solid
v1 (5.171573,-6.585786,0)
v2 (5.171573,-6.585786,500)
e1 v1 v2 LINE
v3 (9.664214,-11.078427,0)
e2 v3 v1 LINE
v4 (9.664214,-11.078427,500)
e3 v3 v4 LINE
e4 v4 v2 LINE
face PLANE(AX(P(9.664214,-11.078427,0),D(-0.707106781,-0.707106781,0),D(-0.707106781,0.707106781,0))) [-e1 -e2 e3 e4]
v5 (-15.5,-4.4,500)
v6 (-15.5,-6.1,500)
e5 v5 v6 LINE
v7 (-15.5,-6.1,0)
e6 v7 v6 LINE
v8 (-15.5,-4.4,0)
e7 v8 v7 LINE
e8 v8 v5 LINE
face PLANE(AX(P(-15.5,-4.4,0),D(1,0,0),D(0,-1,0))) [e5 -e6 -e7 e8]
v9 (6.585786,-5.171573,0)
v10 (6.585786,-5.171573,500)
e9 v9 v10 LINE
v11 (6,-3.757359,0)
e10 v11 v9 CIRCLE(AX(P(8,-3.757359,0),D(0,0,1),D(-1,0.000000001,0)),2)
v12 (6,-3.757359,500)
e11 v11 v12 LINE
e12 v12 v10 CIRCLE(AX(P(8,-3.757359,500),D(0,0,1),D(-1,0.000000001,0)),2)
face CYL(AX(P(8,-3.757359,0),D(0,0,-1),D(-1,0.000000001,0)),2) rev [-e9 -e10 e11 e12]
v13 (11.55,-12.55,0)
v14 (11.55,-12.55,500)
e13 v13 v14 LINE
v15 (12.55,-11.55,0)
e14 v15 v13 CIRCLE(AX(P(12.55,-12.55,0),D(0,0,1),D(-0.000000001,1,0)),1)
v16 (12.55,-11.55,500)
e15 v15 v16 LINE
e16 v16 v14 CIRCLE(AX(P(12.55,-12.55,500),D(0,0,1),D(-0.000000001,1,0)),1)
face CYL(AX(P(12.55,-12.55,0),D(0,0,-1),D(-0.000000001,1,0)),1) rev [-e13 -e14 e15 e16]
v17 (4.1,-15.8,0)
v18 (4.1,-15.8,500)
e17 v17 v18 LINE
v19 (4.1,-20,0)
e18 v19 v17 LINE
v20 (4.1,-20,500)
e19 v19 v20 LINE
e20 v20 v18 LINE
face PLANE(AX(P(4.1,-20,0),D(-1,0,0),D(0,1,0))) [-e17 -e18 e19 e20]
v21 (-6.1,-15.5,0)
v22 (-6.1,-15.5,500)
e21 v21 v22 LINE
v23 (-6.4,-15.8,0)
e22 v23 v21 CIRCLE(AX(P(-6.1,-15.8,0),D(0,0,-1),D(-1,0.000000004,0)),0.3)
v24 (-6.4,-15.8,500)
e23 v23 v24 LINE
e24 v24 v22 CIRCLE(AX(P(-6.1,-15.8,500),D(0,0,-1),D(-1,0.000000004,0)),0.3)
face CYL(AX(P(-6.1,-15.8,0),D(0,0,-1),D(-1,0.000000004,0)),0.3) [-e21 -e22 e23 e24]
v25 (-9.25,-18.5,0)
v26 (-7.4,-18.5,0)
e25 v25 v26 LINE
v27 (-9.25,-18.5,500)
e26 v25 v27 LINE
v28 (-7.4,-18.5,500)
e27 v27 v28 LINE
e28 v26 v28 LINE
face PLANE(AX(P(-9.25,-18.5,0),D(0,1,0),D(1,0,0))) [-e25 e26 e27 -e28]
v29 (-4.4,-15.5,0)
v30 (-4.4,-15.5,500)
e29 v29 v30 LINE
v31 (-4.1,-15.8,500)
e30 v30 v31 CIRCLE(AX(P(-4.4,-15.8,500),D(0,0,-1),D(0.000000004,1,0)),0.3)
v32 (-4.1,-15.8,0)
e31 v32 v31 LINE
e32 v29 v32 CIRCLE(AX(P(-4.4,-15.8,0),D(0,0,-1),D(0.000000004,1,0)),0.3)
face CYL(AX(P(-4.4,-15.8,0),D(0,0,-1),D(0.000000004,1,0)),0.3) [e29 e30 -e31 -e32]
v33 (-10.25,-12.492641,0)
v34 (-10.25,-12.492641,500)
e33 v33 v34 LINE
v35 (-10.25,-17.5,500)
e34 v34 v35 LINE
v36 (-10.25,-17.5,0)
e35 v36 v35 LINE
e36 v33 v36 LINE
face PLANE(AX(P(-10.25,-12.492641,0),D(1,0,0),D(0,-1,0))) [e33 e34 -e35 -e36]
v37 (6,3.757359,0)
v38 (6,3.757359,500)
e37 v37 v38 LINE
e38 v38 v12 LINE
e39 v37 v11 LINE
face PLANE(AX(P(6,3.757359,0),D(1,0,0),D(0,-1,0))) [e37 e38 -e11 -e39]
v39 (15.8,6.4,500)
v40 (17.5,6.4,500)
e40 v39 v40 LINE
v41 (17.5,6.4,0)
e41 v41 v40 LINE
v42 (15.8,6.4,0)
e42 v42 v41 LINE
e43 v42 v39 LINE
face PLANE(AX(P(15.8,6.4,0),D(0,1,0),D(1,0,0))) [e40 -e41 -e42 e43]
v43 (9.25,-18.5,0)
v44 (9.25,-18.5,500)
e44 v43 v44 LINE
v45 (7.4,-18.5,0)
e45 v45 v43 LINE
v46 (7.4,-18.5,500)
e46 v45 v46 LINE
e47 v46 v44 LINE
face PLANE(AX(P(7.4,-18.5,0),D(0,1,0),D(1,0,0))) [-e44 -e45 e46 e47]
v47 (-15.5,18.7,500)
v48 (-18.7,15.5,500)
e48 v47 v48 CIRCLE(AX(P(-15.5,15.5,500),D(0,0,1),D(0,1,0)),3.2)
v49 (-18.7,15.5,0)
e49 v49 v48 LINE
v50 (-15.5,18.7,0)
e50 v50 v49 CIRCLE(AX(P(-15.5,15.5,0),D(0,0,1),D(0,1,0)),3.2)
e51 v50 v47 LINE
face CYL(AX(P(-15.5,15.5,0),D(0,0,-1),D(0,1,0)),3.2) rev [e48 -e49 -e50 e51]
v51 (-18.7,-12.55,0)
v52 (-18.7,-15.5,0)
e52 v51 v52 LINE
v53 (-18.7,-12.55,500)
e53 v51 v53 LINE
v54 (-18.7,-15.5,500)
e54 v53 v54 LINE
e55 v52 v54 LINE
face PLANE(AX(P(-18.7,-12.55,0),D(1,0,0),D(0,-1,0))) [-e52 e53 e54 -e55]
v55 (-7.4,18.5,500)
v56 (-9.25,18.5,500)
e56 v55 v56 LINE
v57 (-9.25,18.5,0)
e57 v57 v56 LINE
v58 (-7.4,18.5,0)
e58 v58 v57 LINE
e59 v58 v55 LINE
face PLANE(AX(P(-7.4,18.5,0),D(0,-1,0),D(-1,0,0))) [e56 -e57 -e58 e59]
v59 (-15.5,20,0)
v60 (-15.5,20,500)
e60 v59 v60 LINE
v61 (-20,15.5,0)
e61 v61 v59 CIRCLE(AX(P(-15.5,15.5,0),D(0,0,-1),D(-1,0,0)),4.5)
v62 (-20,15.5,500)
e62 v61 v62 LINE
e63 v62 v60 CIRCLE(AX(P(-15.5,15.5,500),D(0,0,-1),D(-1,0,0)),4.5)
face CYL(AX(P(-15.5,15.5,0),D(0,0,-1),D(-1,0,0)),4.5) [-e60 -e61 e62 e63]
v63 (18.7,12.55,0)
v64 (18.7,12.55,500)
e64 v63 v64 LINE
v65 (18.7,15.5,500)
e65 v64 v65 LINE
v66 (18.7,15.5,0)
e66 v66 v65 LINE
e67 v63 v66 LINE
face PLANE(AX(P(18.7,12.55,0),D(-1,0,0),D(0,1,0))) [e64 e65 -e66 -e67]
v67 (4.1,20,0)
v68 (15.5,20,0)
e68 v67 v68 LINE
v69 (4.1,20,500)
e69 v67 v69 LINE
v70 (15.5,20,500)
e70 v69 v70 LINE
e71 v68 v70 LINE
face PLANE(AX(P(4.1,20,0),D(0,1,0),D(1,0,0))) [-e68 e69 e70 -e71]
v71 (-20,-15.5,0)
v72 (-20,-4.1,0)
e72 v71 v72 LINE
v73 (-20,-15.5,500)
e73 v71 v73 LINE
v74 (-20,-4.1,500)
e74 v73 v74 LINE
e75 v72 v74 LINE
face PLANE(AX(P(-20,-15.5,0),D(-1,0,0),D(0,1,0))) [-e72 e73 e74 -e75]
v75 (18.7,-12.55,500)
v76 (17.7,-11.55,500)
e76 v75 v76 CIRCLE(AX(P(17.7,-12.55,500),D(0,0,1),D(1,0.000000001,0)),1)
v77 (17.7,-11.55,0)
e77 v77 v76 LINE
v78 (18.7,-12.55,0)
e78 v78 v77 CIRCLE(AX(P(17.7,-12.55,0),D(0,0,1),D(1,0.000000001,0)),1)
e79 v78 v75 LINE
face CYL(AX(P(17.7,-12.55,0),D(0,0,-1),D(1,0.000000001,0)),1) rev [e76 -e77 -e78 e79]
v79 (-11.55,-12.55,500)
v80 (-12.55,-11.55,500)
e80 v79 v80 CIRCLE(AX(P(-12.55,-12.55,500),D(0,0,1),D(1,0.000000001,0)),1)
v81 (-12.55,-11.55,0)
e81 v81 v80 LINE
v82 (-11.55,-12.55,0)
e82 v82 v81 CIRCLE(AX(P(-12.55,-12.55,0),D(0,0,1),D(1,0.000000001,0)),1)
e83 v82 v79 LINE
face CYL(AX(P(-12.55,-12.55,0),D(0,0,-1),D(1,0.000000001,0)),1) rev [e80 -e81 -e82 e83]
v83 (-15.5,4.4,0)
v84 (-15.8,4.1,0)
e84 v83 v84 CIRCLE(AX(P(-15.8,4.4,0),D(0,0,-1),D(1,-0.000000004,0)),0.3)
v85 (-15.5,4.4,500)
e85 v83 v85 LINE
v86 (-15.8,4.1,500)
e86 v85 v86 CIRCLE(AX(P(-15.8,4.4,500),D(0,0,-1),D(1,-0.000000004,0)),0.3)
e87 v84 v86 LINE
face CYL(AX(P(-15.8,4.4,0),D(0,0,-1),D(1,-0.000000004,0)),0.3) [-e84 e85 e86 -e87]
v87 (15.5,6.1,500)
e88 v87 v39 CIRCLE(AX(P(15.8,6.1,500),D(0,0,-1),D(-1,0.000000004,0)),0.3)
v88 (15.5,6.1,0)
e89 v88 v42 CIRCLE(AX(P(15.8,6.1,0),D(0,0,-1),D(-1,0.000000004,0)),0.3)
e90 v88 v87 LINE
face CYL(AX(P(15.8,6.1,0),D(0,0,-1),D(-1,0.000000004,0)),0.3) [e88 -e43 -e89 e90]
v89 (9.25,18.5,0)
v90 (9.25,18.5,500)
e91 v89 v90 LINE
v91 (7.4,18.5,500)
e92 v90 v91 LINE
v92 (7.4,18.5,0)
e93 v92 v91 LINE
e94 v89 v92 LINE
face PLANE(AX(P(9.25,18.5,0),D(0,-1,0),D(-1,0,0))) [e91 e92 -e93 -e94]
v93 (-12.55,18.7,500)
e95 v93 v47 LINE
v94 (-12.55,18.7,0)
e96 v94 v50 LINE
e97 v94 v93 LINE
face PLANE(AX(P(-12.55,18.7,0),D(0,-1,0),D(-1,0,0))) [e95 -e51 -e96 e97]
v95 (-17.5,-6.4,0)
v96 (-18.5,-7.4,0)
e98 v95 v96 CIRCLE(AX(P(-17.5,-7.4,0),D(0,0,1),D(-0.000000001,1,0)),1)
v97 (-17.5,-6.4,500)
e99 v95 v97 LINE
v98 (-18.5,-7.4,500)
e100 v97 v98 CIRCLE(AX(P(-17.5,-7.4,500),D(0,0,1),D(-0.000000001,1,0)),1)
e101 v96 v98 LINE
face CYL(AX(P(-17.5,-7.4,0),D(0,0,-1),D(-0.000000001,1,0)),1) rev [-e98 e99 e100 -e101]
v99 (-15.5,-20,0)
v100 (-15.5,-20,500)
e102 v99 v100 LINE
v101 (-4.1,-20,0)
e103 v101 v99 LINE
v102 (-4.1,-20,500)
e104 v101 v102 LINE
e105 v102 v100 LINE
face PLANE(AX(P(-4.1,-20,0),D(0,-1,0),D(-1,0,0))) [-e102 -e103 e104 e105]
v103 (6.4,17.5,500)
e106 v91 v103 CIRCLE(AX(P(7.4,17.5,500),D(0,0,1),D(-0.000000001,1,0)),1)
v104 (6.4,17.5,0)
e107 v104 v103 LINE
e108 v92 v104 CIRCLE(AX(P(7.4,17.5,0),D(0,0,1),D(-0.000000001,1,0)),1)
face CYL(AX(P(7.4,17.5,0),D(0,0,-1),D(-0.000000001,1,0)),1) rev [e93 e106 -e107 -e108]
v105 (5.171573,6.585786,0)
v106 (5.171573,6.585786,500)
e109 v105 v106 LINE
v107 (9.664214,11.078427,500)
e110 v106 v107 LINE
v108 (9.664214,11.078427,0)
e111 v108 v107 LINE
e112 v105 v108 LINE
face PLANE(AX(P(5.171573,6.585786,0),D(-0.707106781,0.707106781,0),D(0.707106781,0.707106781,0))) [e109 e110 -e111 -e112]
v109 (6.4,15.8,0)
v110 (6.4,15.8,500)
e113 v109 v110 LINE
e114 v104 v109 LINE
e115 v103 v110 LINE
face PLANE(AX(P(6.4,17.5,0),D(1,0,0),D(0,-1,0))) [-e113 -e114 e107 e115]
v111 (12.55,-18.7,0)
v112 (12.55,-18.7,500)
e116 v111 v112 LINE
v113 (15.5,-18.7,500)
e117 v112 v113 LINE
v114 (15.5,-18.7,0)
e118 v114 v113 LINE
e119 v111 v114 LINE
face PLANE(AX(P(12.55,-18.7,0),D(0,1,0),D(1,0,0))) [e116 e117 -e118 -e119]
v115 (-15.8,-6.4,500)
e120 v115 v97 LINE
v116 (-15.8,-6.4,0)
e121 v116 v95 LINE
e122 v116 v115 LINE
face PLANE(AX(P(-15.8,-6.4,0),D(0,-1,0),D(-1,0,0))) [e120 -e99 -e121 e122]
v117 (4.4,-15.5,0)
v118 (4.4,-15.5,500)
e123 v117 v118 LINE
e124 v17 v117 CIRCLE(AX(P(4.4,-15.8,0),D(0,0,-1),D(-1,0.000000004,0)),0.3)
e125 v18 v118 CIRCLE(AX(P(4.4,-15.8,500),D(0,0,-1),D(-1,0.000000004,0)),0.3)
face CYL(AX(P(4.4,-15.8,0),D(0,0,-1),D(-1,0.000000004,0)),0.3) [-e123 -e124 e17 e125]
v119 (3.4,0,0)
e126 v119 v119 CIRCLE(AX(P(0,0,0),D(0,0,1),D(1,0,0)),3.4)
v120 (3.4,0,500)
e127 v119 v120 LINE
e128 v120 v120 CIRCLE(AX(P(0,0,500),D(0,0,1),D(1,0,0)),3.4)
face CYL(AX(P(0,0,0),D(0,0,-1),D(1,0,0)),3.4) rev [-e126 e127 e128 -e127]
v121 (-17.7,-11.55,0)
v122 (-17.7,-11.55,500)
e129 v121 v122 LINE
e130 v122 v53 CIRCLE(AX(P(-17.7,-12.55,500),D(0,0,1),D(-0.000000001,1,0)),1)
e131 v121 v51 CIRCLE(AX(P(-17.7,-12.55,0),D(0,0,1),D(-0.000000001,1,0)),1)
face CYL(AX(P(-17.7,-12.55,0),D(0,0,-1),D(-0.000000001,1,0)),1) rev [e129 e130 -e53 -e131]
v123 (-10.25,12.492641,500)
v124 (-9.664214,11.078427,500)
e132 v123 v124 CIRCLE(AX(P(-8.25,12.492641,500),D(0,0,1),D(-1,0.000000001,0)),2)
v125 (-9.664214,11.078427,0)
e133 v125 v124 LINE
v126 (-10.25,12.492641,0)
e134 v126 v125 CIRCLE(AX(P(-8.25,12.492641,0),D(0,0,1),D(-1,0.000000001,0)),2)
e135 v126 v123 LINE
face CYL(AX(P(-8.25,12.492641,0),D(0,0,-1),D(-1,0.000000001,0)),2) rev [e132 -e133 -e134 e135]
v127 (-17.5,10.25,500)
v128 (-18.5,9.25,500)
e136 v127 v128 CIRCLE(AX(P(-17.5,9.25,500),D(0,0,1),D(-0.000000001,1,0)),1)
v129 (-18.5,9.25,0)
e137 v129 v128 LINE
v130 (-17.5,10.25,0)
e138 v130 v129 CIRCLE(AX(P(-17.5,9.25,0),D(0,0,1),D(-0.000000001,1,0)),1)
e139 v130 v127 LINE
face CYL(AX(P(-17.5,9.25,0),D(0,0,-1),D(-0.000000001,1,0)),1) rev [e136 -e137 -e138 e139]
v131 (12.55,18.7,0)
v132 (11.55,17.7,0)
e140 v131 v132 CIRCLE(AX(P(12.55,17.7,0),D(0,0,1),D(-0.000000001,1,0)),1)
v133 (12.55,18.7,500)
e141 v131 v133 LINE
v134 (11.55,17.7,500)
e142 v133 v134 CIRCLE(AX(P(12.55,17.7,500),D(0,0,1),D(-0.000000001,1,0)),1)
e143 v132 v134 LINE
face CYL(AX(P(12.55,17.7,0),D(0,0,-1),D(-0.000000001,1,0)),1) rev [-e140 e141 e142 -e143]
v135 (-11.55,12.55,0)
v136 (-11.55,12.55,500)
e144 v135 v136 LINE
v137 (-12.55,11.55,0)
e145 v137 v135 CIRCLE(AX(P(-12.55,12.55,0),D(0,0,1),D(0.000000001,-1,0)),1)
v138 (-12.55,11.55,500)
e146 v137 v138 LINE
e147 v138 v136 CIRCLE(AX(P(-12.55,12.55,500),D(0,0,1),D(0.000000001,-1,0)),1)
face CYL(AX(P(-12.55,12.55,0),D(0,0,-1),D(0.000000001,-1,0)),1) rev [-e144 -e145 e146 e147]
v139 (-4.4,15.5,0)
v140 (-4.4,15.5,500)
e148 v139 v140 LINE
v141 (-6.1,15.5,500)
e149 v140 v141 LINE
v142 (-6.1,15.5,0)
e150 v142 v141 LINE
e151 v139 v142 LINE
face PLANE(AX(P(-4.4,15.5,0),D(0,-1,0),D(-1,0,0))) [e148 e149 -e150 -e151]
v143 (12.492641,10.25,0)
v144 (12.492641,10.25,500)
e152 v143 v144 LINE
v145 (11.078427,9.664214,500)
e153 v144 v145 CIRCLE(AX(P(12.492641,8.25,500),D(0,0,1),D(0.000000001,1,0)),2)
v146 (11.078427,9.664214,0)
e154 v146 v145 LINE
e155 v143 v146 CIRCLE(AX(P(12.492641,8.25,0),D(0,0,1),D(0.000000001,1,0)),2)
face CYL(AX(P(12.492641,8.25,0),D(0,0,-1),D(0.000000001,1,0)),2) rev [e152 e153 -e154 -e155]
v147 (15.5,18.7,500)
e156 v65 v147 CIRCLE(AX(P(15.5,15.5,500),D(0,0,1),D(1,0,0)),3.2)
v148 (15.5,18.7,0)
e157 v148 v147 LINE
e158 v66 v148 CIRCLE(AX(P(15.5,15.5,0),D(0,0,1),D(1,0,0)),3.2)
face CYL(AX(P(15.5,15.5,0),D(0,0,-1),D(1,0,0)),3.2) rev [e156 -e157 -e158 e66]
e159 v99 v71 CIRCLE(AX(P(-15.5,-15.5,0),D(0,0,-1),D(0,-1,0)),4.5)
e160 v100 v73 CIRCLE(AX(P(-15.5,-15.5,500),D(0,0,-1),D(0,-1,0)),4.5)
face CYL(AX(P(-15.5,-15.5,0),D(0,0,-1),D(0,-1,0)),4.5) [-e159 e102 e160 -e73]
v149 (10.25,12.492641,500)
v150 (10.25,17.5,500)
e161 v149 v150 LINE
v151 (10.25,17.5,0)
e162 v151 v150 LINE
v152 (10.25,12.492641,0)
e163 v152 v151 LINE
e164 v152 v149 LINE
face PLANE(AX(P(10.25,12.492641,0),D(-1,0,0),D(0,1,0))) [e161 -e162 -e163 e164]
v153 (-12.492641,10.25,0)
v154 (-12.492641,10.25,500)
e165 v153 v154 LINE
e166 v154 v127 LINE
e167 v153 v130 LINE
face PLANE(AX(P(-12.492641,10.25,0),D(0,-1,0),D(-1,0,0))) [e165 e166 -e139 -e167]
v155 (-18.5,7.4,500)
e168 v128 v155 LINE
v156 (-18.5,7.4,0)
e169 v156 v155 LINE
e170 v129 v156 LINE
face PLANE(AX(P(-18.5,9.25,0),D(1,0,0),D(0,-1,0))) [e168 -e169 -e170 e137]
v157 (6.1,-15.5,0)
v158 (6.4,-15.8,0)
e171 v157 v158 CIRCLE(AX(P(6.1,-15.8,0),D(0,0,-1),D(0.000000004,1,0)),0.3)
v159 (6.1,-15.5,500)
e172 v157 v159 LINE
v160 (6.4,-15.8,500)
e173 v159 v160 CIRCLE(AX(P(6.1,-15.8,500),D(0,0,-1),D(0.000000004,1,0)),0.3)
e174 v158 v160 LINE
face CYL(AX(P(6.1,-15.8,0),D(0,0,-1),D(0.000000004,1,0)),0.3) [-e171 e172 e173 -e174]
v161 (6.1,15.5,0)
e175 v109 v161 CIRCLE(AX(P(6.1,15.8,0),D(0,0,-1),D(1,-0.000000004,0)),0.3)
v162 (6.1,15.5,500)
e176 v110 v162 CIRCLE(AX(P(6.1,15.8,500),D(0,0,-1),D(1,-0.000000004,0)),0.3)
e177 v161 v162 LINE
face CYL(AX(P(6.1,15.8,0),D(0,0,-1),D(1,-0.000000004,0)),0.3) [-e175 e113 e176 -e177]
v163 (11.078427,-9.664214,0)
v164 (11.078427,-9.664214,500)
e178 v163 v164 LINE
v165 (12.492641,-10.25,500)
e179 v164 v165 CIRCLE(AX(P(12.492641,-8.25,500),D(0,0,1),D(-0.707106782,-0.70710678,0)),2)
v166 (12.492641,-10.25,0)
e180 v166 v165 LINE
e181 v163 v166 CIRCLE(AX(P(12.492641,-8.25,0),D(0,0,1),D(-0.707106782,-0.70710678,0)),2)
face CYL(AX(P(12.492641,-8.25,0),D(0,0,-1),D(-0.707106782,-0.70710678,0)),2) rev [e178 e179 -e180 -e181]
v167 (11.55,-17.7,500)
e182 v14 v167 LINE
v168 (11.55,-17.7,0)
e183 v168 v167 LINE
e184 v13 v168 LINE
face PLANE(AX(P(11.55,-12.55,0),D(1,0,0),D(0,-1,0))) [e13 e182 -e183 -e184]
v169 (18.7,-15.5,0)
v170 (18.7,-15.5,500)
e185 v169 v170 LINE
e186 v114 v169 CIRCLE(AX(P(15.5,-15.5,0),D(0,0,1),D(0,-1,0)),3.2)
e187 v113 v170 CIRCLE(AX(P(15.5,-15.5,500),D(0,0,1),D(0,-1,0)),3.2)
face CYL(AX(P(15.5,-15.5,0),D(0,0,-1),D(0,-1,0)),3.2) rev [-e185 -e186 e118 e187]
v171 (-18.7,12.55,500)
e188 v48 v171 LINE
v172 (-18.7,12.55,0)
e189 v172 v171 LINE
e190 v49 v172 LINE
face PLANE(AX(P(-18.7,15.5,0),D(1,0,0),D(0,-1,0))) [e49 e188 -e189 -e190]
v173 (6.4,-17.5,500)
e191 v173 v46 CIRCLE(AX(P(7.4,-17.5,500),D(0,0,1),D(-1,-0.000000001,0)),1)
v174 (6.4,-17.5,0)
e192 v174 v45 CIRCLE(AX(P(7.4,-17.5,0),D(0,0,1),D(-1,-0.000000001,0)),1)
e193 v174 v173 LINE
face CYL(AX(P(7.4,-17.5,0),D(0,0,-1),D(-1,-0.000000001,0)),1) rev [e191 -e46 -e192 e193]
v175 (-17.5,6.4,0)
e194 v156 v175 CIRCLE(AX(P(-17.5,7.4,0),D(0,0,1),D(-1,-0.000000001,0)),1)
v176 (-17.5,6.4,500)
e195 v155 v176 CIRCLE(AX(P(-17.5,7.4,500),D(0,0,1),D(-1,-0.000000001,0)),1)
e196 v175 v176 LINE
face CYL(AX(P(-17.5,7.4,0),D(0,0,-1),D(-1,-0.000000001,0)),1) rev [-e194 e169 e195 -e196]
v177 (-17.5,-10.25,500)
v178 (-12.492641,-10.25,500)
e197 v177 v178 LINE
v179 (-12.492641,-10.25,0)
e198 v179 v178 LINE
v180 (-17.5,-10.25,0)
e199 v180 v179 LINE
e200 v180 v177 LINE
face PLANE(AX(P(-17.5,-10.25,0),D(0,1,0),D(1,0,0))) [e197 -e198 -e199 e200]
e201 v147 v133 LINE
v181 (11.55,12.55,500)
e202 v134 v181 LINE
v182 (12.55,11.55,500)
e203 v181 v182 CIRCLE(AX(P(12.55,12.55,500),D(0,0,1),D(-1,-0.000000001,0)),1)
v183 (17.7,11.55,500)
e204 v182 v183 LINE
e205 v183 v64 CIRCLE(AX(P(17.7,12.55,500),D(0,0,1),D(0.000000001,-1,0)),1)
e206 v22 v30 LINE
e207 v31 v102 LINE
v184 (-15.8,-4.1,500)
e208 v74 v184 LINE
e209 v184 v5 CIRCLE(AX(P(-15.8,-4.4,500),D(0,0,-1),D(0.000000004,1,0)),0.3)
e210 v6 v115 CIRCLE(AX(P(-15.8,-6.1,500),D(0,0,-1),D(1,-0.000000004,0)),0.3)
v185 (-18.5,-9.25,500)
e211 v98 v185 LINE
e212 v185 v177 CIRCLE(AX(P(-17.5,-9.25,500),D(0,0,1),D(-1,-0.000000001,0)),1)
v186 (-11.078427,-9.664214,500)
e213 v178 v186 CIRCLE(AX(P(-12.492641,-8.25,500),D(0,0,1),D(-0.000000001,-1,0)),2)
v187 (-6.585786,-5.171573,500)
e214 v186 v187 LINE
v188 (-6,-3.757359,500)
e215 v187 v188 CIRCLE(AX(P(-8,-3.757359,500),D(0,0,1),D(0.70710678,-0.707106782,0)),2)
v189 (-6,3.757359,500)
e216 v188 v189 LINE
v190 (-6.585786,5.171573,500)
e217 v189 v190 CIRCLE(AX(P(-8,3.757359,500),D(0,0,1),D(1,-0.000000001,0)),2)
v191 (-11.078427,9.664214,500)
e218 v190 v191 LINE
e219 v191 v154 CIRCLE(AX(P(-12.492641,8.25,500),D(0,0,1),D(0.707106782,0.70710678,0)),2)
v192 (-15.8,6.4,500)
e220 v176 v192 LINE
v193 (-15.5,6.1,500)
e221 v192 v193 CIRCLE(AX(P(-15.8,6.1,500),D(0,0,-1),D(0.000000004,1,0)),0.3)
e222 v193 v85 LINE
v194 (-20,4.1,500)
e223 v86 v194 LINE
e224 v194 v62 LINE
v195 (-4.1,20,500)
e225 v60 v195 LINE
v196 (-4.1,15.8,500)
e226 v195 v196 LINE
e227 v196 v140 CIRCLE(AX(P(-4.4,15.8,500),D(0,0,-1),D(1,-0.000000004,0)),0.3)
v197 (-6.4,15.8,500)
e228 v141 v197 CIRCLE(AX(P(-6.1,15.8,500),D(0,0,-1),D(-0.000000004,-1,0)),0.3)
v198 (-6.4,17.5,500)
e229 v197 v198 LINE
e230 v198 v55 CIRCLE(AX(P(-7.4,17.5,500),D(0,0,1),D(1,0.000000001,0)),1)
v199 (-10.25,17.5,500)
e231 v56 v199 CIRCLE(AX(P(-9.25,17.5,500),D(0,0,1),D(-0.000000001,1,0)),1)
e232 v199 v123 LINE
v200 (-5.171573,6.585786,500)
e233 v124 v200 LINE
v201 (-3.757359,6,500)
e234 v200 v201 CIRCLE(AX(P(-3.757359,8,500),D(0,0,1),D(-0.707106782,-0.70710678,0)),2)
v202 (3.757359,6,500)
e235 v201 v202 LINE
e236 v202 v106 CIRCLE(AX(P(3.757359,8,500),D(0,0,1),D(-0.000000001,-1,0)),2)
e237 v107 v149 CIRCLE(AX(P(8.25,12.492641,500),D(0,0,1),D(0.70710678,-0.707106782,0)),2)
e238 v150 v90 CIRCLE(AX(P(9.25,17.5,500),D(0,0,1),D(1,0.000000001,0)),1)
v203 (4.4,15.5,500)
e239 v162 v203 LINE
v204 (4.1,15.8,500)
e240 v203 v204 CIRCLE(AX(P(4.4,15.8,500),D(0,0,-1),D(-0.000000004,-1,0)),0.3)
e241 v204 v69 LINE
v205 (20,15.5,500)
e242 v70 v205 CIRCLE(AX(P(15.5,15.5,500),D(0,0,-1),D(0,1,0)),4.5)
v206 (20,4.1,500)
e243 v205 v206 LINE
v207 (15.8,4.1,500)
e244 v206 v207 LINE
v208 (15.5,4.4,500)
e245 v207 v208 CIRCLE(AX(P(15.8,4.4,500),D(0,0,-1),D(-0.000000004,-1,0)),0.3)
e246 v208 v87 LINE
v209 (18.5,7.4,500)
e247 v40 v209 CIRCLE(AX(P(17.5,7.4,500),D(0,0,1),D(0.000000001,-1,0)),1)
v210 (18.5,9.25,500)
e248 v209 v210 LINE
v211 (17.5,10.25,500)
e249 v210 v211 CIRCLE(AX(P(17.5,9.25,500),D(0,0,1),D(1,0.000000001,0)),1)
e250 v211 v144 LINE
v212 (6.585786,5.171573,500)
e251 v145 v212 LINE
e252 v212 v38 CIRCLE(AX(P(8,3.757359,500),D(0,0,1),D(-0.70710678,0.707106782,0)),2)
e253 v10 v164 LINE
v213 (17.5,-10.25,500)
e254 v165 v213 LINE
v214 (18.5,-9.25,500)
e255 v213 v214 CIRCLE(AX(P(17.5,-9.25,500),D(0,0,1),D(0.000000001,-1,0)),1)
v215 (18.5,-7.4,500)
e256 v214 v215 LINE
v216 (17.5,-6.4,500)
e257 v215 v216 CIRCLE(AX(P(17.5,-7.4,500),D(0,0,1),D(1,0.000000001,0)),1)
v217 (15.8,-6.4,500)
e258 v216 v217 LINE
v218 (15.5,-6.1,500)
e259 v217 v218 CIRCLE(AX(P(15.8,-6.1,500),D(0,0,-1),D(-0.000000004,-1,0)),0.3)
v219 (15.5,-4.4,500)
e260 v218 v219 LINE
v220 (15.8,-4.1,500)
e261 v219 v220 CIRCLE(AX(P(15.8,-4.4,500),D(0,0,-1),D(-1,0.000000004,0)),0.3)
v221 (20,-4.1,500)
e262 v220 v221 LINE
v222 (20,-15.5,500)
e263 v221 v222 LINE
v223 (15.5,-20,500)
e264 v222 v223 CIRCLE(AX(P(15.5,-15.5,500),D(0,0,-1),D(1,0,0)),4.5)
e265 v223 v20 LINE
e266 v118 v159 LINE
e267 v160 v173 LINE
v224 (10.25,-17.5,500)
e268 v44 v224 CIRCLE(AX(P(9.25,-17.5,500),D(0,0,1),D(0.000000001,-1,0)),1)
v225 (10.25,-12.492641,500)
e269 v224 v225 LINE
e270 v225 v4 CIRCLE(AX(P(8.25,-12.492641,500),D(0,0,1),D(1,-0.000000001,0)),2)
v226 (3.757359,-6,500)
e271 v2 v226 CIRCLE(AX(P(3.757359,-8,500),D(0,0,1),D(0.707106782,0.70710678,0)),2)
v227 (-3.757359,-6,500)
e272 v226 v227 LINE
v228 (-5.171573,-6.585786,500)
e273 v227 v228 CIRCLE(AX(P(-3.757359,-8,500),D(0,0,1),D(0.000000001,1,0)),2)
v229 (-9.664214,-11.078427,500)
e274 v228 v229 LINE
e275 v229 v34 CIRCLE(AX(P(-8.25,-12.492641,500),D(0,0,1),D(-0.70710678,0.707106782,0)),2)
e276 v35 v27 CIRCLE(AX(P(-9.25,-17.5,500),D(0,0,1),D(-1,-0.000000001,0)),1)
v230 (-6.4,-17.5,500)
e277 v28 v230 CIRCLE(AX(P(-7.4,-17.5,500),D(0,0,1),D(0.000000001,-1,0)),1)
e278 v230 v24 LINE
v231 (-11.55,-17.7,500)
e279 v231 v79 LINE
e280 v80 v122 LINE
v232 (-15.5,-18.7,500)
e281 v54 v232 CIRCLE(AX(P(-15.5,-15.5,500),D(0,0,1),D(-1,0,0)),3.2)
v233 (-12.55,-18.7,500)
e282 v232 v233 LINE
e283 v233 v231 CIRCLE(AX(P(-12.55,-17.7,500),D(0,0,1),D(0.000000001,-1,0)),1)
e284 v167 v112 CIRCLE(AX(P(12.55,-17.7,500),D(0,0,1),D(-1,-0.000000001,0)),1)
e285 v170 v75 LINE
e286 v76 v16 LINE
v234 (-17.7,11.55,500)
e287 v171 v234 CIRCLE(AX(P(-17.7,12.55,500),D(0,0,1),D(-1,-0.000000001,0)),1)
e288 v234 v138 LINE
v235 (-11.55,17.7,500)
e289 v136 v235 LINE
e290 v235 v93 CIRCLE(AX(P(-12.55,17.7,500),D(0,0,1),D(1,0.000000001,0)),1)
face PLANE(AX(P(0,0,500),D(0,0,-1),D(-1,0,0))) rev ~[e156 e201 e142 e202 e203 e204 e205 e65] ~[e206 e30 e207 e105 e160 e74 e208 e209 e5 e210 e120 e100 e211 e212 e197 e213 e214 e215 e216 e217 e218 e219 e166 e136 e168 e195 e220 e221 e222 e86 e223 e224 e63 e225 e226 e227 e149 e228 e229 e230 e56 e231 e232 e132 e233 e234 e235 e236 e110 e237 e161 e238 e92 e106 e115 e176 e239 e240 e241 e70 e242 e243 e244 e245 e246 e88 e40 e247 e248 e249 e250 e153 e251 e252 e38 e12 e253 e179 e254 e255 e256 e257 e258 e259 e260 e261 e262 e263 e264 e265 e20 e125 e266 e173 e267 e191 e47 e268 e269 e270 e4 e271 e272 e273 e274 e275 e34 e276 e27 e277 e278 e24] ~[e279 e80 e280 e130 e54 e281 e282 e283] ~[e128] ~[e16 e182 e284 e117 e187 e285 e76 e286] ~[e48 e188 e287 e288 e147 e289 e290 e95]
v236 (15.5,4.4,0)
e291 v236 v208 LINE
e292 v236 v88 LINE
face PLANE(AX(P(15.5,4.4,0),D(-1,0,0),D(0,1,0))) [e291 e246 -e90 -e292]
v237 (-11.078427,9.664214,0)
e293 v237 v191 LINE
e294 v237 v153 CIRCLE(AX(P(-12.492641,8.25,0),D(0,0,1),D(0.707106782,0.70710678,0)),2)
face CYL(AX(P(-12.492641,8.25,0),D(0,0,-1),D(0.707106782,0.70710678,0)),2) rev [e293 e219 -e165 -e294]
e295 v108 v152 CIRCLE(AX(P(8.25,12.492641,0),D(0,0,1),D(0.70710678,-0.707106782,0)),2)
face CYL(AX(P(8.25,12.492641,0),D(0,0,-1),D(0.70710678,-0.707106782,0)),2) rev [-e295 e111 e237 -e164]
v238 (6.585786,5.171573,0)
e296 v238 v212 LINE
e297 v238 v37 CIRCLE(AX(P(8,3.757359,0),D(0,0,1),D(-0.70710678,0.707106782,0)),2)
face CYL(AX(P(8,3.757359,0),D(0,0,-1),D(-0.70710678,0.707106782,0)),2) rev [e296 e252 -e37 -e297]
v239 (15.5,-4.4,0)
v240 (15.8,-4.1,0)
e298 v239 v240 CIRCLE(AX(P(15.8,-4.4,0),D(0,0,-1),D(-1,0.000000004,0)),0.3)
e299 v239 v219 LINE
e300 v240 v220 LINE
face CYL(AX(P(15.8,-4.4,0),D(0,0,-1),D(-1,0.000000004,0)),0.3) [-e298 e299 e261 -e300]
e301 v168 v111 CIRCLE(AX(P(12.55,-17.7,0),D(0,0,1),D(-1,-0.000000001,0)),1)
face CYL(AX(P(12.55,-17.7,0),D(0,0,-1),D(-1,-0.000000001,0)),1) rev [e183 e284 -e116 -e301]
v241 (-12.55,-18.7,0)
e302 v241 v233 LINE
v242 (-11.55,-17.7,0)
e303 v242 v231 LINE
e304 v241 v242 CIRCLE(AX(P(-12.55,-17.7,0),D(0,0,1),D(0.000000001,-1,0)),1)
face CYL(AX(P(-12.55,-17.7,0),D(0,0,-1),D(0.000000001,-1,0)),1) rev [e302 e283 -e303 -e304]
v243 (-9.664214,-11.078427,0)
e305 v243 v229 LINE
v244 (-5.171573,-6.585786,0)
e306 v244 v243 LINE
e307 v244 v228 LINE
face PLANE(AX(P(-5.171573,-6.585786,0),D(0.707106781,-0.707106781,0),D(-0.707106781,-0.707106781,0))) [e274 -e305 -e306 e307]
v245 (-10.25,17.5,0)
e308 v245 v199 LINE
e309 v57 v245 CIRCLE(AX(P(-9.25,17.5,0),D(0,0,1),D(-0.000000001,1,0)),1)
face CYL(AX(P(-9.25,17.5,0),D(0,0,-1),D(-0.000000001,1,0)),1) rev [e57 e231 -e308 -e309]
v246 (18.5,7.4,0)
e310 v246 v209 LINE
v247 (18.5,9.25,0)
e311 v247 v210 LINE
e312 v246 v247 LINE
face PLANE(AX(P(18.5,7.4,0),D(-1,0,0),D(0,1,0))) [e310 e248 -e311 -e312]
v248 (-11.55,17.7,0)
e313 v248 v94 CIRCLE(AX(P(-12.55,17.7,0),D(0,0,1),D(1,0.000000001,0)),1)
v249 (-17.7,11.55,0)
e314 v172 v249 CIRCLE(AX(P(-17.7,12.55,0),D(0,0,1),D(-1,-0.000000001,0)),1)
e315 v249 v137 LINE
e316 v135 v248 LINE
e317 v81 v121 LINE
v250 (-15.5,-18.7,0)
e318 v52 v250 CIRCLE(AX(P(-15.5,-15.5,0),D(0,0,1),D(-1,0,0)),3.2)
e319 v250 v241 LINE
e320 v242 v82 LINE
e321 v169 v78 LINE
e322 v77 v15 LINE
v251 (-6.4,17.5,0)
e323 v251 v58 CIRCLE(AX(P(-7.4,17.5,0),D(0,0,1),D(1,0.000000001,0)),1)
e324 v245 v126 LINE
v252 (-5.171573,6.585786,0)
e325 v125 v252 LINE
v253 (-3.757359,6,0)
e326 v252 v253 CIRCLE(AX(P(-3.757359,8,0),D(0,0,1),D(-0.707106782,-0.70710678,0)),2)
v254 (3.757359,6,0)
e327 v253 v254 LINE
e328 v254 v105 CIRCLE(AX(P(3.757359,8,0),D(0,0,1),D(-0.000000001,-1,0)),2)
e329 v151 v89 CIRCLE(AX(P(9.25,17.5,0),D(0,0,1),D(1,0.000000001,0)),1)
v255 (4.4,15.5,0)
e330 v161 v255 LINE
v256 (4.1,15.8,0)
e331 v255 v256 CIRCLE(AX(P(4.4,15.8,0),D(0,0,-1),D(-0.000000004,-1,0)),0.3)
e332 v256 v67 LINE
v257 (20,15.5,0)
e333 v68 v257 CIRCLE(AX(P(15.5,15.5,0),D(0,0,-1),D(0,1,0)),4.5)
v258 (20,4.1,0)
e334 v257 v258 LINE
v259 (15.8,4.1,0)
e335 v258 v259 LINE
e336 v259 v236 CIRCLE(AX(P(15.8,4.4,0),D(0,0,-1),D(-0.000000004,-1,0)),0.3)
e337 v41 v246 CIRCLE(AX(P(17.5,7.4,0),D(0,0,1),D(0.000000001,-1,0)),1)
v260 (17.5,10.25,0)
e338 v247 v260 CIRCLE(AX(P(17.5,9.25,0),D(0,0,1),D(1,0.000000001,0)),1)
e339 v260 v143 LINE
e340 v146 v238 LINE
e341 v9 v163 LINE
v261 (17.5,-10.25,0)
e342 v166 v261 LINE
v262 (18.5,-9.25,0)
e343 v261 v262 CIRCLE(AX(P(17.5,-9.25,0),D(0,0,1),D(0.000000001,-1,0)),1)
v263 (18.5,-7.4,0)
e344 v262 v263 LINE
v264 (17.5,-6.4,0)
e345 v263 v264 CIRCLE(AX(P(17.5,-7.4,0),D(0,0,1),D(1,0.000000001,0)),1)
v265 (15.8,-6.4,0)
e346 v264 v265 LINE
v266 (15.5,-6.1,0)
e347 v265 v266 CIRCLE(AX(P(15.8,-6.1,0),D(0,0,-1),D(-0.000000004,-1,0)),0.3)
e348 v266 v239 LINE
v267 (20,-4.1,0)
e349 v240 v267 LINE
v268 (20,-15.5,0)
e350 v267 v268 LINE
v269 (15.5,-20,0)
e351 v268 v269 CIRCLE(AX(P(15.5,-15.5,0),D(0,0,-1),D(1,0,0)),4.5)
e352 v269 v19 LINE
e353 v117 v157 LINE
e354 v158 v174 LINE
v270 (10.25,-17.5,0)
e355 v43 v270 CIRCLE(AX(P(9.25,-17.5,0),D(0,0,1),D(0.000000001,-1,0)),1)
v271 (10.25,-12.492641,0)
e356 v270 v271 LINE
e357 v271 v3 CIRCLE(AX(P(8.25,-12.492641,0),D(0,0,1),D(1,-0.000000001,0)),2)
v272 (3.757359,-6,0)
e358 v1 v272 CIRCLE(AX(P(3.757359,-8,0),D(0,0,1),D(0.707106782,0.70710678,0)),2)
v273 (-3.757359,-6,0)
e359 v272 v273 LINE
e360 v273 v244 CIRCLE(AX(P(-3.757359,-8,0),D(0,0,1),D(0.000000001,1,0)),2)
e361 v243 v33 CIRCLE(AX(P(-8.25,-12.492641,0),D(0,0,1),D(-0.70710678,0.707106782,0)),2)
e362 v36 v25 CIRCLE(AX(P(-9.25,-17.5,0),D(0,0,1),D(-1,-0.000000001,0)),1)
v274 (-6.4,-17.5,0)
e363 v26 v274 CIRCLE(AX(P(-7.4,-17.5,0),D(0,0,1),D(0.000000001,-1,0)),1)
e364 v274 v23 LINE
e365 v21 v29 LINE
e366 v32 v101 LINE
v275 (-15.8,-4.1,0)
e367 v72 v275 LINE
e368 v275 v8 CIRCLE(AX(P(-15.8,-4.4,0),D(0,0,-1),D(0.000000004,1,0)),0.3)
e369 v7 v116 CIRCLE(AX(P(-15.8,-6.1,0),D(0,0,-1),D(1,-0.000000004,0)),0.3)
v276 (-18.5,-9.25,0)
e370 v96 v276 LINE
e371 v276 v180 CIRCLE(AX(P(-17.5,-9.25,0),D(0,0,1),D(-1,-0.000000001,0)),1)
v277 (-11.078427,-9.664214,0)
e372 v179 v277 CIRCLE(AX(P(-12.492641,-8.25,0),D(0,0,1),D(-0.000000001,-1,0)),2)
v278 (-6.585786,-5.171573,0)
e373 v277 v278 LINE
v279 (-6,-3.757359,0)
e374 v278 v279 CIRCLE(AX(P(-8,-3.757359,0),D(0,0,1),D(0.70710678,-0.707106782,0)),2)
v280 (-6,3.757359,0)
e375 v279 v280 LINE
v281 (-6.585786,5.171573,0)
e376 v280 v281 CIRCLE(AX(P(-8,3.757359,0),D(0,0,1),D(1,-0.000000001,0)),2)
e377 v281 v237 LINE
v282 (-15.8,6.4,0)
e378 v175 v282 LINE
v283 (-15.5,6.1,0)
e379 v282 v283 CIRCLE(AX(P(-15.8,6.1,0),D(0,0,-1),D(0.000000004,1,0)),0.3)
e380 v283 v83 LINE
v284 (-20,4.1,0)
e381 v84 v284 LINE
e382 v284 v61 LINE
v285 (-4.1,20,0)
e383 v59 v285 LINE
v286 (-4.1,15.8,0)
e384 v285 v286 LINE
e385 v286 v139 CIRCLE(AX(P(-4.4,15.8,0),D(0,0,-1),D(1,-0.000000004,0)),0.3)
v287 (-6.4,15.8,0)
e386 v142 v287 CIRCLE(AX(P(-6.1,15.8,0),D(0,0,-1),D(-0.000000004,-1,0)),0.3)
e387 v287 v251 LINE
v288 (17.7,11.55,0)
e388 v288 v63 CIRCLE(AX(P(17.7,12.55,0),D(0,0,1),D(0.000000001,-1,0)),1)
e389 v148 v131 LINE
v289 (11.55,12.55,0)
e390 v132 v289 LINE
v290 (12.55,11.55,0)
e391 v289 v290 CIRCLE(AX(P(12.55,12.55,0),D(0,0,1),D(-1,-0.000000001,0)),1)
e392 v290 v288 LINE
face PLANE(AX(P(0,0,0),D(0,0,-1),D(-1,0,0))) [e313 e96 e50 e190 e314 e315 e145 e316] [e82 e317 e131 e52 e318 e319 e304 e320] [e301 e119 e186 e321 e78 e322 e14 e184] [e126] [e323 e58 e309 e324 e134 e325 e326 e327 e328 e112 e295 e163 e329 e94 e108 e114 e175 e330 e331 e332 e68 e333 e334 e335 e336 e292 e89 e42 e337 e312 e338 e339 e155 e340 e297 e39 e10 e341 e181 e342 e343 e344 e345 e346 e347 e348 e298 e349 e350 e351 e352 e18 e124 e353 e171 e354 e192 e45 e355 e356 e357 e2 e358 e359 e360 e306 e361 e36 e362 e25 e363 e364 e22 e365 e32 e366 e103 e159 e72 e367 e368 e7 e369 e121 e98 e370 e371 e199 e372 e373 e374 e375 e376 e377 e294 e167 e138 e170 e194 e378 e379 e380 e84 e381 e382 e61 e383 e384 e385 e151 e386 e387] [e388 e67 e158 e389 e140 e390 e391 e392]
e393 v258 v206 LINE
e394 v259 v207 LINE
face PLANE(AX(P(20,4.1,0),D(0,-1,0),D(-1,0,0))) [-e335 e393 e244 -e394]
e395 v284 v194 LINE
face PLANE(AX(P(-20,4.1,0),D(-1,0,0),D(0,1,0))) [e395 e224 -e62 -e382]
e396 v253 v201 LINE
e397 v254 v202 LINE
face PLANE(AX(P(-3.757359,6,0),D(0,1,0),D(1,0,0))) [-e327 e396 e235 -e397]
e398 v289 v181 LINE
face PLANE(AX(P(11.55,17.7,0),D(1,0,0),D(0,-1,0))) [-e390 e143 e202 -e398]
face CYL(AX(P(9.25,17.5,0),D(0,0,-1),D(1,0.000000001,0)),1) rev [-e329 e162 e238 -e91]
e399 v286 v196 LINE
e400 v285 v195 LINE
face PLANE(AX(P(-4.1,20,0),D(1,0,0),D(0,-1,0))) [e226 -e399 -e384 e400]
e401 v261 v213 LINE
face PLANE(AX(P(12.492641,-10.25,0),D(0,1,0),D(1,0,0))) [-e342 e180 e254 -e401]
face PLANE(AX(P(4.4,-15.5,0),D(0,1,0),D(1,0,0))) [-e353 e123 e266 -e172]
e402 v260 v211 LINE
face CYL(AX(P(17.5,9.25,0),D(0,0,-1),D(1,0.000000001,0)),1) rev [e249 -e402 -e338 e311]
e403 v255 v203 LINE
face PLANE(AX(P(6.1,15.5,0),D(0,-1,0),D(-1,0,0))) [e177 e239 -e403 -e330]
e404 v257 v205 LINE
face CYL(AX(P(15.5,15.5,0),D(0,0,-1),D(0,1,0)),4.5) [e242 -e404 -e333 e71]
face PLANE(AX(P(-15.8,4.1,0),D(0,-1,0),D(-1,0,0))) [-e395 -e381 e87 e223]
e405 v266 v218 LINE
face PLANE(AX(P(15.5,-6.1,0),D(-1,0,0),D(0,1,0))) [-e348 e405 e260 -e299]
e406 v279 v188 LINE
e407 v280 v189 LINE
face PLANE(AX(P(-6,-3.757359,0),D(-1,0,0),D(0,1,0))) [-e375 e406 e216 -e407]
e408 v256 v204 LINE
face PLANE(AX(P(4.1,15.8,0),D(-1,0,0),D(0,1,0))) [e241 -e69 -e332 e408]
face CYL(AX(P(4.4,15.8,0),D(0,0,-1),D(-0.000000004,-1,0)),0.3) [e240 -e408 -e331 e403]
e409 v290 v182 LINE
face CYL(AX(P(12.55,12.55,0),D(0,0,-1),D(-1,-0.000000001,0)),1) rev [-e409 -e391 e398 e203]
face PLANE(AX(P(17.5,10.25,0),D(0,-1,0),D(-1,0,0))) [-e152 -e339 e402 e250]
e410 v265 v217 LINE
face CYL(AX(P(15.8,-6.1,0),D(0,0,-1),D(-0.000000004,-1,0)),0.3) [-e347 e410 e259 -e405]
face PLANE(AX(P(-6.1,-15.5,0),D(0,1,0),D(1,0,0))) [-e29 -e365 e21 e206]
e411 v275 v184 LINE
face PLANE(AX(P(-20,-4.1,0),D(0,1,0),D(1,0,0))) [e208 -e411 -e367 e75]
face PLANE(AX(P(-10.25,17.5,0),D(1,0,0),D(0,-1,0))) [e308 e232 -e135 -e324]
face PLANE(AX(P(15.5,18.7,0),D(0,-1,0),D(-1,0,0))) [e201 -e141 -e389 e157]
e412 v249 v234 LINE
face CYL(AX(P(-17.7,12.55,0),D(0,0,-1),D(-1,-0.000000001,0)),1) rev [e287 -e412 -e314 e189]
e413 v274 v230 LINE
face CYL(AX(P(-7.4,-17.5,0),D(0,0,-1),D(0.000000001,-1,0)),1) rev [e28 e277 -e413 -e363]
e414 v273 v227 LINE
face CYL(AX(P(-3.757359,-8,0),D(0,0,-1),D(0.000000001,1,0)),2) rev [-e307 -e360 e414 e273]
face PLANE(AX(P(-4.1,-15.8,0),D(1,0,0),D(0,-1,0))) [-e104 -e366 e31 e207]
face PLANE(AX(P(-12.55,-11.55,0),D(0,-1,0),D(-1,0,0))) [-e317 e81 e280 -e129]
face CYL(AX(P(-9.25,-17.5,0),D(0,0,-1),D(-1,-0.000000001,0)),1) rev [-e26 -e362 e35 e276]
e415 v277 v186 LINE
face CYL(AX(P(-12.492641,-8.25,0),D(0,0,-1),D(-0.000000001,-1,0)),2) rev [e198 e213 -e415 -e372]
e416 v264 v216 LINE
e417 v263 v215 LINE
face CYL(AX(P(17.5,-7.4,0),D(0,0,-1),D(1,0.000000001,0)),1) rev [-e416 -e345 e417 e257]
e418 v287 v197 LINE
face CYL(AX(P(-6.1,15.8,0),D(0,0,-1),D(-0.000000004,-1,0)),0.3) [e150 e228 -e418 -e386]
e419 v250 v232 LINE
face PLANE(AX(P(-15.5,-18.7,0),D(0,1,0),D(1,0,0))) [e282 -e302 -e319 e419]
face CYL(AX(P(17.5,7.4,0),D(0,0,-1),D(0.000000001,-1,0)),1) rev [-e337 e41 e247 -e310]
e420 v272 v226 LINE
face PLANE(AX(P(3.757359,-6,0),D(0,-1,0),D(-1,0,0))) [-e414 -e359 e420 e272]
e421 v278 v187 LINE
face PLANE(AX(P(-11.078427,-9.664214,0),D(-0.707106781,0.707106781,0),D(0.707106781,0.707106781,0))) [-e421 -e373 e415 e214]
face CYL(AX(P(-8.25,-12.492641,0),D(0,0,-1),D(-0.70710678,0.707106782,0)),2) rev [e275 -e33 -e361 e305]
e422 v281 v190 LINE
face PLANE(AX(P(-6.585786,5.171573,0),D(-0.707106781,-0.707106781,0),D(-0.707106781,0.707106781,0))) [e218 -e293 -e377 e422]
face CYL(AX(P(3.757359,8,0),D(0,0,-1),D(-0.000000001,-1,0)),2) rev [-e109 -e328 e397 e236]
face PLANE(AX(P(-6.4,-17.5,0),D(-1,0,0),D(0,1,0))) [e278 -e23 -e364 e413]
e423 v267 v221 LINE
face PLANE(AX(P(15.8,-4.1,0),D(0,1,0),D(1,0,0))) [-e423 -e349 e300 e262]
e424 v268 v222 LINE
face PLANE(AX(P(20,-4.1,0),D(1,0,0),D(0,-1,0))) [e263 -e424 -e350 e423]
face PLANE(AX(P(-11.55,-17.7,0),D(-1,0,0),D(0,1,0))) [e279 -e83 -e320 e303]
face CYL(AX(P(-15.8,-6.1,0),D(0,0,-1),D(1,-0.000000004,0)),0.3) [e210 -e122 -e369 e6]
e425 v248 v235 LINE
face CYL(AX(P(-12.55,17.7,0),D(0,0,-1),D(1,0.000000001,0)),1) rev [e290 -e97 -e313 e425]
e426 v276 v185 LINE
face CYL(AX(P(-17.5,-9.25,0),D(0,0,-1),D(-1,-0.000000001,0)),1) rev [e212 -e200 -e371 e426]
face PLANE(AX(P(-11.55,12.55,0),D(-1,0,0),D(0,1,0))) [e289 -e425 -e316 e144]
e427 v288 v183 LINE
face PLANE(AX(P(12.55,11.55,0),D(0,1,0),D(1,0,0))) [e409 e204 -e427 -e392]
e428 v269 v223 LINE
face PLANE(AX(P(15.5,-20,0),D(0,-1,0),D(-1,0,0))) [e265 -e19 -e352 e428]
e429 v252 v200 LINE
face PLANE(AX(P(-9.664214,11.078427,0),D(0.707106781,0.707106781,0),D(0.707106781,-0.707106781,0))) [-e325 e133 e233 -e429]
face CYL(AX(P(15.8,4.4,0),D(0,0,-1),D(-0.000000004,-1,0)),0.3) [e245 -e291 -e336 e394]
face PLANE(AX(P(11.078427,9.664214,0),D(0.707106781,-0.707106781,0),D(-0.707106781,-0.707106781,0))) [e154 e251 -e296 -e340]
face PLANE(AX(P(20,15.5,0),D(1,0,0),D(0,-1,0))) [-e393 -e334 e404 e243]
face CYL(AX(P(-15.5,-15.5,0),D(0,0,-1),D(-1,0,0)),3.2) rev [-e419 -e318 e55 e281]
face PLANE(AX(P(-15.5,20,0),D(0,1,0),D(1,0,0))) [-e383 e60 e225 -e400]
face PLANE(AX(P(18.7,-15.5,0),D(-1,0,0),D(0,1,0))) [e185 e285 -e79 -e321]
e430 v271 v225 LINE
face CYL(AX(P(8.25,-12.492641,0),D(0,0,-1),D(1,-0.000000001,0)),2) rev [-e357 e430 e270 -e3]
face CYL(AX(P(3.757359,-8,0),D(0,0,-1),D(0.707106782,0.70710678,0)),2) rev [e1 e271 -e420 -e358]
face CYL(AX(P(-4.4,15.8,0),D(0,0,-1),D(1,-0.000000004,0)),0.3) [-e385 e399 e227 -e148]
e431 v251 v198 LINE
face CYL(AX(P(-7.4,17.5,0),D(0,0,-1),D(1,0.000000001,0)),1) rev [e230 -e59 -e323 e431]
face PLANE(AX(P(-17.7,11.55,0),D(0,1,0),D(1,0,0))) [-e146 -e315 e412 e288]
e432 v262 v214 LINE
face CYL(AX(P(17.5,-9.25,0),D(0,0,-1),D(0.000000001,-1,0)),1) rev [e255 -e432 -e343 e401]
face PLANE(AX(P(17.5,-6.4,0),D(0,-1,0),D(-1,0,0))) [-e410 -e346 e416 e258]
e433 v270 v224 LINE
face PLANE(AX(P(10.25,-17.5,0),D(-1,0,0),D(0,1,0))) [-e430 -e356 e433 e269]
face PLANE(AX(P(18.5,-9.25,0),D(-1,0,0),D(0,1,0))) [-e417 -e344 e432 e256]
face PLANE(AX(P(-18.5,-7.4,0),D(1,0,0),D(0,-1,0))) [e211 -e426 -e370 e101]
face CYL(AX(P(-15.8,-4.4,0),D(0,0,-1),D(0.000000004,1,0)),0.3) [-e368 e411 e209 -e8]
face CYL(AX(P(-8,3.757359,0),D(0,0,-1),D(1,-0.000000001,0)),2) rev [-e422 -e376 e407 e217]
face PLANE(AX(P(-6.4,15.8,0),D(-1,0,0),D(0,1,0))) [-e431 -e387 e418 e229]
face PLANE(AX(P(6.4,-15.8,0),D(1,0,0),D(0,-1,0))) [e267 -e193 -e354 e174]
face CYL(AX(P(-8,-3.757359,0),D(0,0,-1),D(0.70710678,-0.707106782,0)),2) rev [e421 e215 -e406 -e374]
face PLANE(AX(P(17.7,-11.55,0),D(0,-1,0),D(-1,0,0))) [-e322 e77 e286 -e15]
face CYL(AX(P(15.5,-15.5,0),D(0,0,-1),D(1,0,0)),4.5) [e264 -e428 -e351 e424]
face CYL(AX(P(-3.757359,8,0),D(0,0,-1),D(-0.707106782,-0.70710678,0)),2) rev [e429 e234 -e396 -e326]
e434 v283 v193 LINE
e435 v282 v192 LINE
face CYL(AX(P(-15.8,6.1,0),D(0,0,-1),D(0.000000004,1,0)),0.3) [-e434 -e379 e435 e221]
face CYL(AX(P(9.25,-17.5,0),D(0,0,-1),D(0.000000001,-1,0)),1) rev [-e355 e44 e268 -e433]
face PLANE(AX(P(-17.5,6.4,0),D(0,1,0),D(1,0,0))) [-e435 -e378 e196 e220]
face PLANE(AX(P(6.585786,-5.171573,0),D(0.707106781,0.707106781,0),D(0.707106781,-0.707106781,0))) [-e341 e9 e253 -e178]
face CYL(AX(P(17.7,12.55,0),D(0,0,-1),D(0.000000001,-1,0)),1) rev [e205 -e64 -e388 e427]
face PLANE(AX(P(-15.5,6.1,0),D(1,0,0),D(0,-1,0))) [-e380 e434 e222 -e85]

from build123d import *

# Parameters (mm, degrees)
SKETCH1_R           = 3.4
BOSS_EXTRUDE1_DEPTH = 500


with BuildPart() as part:
    # Sketch1 → Boss-Extrude1 (new body)
    with BuildSketch(Plane.XY):
        with BuildLine():
            Line((-20, 4.1), (-20, 15.5))
            ThreePointArc((-20, 15.5), (-18.681980515, 18.681980515), (-15.5, 20))
            Line((-15.5, 20), (-4.1, 20))
            Line((-4.1, 20), (-4.1, 15.8))
            ThreePointArc((-4.1, 15.8), (-4.187867966, 15.587867966), (-4.4, 15.5))
            Line((-4.4, 15.5), (-6.1, 15.5))
            ThreePointArc((-6.1, 15.5), (-6.312132034, 15.587867966), (-6.4, 15.8))
            Line((-6.4, 15.8), (-6.4, 17.5))
            ThreePointArc((-6.4, 17.5), (-6.692893219, 18.207106781), (-7.4, 18.5))
            Line((-7.4, 18.5), (-9.25, 18.5))
            ThreePointArc((-9.25, 18.5), (-9.957106781, 18.207106781), (-10.25, 17.5))
            Line((-10.25, 17.5), (-10.25, 12.492640687))
            ThreePointArc((-10.25, 12.492640687), (-10.097759065, 11.727273822), (-9.664213562, 11.078427125))
            Line((-9.664213562, 11.078427125), (-5.171572875, 6.585786438))
            ThreePointArc((-5.171572875, 6.585786438), (-4.522726178, 6.152240935), (-3.757359313, 6))
            Line((-3.757359313, 6), (3.757359313, 6))
            ThreePointArc((3.757359313, 6), (4.522726178, 6.152240935), (5.171572875, 6.585786438))
            Line((5.171572875, 6.585786438), (9.664213562, 11.078427125))
            ThreePointArc((9.664213562, 11.078427125), (10.097759065, 11.727273822), (10.25, 12.492640687))
            Line((10.25, 12.492640687), (10.25, 17.5))
            ThreePointArc((10.25, 17.5), (9.957106781, 18.207106781), (9.25, 18.5))
            Line((9.25, 18.5), (7.4, 18.5))
            ThreePointArc((7.4, 18.5), (6.692893219, 18.207106781), (6.4, 17.5))
            Line((6.4, 17.5), (6.4, 15.8))
            ThreePointArc((6.4, 15.8), (6.312132034, 15.587867966), (6.1, 15.5))
            Line((6.1, 15.5), (4.4, 15.5))
            ThreePointArc((4.4, 15.5), (4.187867966, 15.587867966), (4.1, 15.8))
            Line((4.1, 15.8), (4.1, 20))
            Line((4.1, 20), (15.5, 20))
            ThreePointArc((15.5, 20), (18.681980515, 18.681980515), (20, 15.5))
            Line((20, 15.5), (20, 4.1))
            Line((20, 4.1), (15.8, 4.1))
            ThreePointArc((15.8, 4.1), (15.587867966, 4.187867966), (15.5, 4.4))
            Line((15.5, 4.4), (15.5, 6.1))
            ThreePointArc((15.5, 6.1), (15.587867966, 6.312132034), (15.8, 6.4))
            Line((15.8, 6.4), (17.5, 6.4))
            ThreePointArc((17.5, 6.4), (18.207106781, 6.692893219), (18.5, 7.4))
            Line((18.5, 7.4), (18.5, 9.25))
            ThreePointArc((18.5, 9.25), (18.207106781, 9.957106781), (17.5, 10.25))
            Line((17.5, 10.25), (12.492640687, 10.25))
            ThreePointArc((12.492640687, 10.25), (11.727273822, 10.097759065), (11.078427125, 9.664213562))
            Line((11.078427125, 9.664213562), (6.585786438, 5.171572875))
            ThreePointArc((6.585786438, 5.171572875), (6.152240935, 4.522726178), (6, 3.757359313))
            Line((6, 3.757359313), (6, -3.757359313))
            ThreePointArc((6, -3.757359313), (6.152240935, -4.522726178), (6.585786438, -5.171572875))
            Line((6.585786438, -5.171572875), (11.078427125, -9.664213562))
            ThreePointArc((11.078427125, -9.664213562), (11.727273822, -10.097759065), (12.492640687, -10.25))
            Line((12.492640687, -10.25), (17.5, -10.25))
            ThreePointArc((17.5, -10.25), (18.207106781, -9.957106781), (18.5, -9.25))
            Line((18.5, -9.25), (18.5, -7.4))
            ThreePointArc((18.5, -7.4), (18.207106781, -6.692893219), (17.5, -6.4))
            Line((17.5, -6.4), (15.8, -6.4))
            ThreePointArc((15.8, -6.4), (15.587867966, -6.312132034), (15.5, -6.1))
            Line((15.5, -6.1), (15.5, -4.4))
            ThreePointArc((15.5, -4.4), (15.587867966, -4.187867966), (15.8, -4.1))
            Line((15.8, -4.1), (20, -4.1))
            Line((20, -4.1), (20, -15.5))
            ThreePointArc((20, -15.5), (18.681980515, -18.681980515), (15.5, -20))
            Line((15.5, -20), (4.1, -20))
            Line((4.1, -20), (4.1, -15.8))
            ThreePointArc((4.1, -15.8), (4.187867966, -15.587867966), (4.4, -15.5))
            Line((4.4, -15.5), (6.1, -15.5))
            ThreePointArc((6.1, -15.5), (6.312132034, -15.587867966), (6.4, -15.8))
            Line((6.4, -15.8), (6.4, -17.5))
            ThreePointArc((6.4, -17.5), (6.692893219, -18.207106781), (7.4, -18.5))
            Line((7.4, -18.5), (9.25, -18.5))
            ThreePointArc((9.25, -18.5), (9.957106781, -18.207106781), (10.25, -17.5))
            Line((10.25, -17.5), (10.25, -12.492640687))
            ThreePointArc((10.25, -12.492640687), (10.097759065, -11.727273822), (9.664213562, -11.078427125))
            Line((9.664213562, -11.078427125), (5.171572875, -6.585786438))
            ThreePointArc((5.171572875, -6.585786438), (4.522726178, -6.152240935), (3.757359313, -6))
            Line((3.757359313, -6), (-3.757359313, -6))
            ThreePointArc((-3.757359313, -6), (-4.522726178, -6.152240935), (-5.171572875, -6.585786438))
            Line((-5.171572875, -6.585786438), (-9.664213562, -11.078427125))
            ThreePointArc((-9.664213562, -11.078427125), (-10.097759065, -11.727273822), (-10.25, -12.492640687))
            Line((-10.25, -12.492640687), (-10.25, -17.5))
            ThreePointArc((-10.25, -17.5), (-9.957106781, -18.207106781), (-9.25, -18.5))
            Line((-9.25, -18.5), (-7.4, -18.5))
            ThreePointArc((-7.4, -18.5), (-6.692893219, -18.207106781), (-6.4, -17.5))
            Line((-6.4, -17.5), (-6.4, -15.8))
            ThreePointArc((-6.4, -15.8), (-6.312132034, -15.587867966), (-6.1, -15.5))
            Line((-6.1, -15.5), (-4.4, -15.5))
            ThreePointArc((-4.4, -15.5), (-4.187867966, -15.587867966), (-4.1, -15.8))
            Line((-4.1, -15.8), (-4.1, -20))
            Line((-4.1, -20), (-15.5, -20))
            ThreePointArc((-15.5, -20), (-18.681980515, -18.681980515), (-20, -15.5))
            Line((-20, -15.5), (-20, -4.1))
            Line((-20, -4.1), (-15.8, -4.1))
            ThreePointArc((-15.8, -4.1), (-15.587867966, -4.187867966), (-15.5, -4.4))
            Line((-15.5, -4.4), (-15.5, -6.1))
            ThreePointArc((-15.5, -6.1), (-15.587867966, -6.312132034), (-15.8, -6.4))
            Line((-15.8, -6.4), (-17.5, -6.4))
            ThreePointArc((-17.5, -6.4), (-18.207106781, -6.692893219), (-18.5, -7.4))
            Line((-18.5, -7.4), (-18.5, -9.25))
            ThreePointArc((-18.5, -9.25), (-18.207106781, -9.957106781), (-17.5, -10.25))
            Line((-17.5, -10.25), (-12.492640687, -10.25))
            ThreePointArc((-12.492640687, -10.25), (-11.727273822, -10.097759065), (-11.078427125, -9.664213562))
            Line((-11.078427125, -9.664213562), (-6.585786438, -5.171572875))
            ThreePointArc((-6.585786438, -5.171572875), (-6.152240935, -4.522726178), (-6, -3.757359313))
            Line((-6, -3.757359313), (-6, 3.757359313))
            ThreePointArc((-6, 3.757359313), (-6.152240935, 4.522726178), (-6.585786438, 5.171572875))
            Line((-6.585786438, 5.171572875), (-11.078427125, 9.664213562))
            ThreePointArc((-11.078427125, 9.664213562), (-11.727273822, 10.097759065), (-12.492640687, 10.25))
            Line((-12.492640687, 10.25), (-17.5, 10.25))
            ThreePointArc((-17.5, 10.25), (-18.207106781, 9.957106781), (-18.5, 9.25))
            Line((-18.5, 9.25), (-18.5, 7.4))
            ThreePointArc((-18.5, 7.4), (-18.207106781, 6.692893219), (-17.5, 6.4))
            Line((-17.5, 6.4), (-15.8, 6.4))
            ThreePointArc((-15.8, 6.4), (-15.587867966, 6.312132034), (-15.5, 6.1))
            Line((-15.5, 6.1), (-15.5, 4.4))
            ThreePointArc((-15.5, 4.4), (-15.587867966, 4.187867966), (-15.8, 4.1))
            Line((-15.8, 4.1), (-20, 4.1))
        make_face()
        Circle(SKETCH1_R, mode=Mode.SUBTRACT)
        with BuildLine():
            Line((18.7, 12.55), (18.7, 15.5))
            ThreePointArc((18.7, 15.5), (17.7627417, 17.7627417), (15.5, 18.7))
            Line((15.5, 18.7), (12.55, 18.7))
            ThreePointArc((12.55, 18.7), (11.842893219, 18.407106781), (11.55, 17.7))
            Line((11.55, 17.7), (11.55, 12.55))
            ThreePointArc((11.55, 12.55), (11.842893219, 11.842893219), (12.55, 11.55))
            Line((12.55, 11.55), (17.7, 11.55))
            ThreePointArc((17.7, 11.55), (18.407106781, 11.842893219), (18.7, 12.55))
        make_face(mode=Mode.SUBTRACT)
        with BuildLine():
            Line((-18.7, -12.55), (-18.7, -15.5))
            ThreePointArc((-18.7, -15.5), (-17.7627417, -17.7627417), (-15.5, -18.7))
            Line((-15.5, -18.7), (-12.55, -18.7))
            ThreePointArc((-12.55, -18.7), (-11.842893219, -18.407106781), (-11.55, -17.7))
            Line((-11.55, -17.7), (-11.55, -12.55))
            ThreePointArc((-11.55, -12.55), (-11.842893219, -11.842893219), (-12.55, -11.55))
            Line((-12.55, -11.55), (-17.7, -11.55))
            ThreePointArc((-17.7, -11.55), (-18.407106781, -11.842893219), (-18.7, -12.55))
        make_face(mode=Mode.SUBTRACT)
        with BuildLine():
            Line((-12.55, 18.7), (-15.5, 18.7))
            ThreePointArc((-15.5, 18.7), (-17.7627417, 17.7627417), (-18.7, 15.5))
            Line((-18.7, 15.5), (-18.7, 12.55))
            ThreePointArc((-18.7, 12.55), (-18.407106781, 11.842893219), (-17.7, 11.55))
            Line((-17.7, 11.55), (-12.55, 11.55))
            ThreePointArc((-12.55, 11.55), (-11.842893219, 11.842893219), (-11.55, 12.55))
            Line((-11.55, 12.55), (-11.55, 17.7))
            ThreePointArc((-11.55, 17.7), (-11.842893219, 18.407106781), (-12.55, 18.7))
        make_face(mode=Mode.SUBTRACT)
        with BuildLine():
            Line((12.55, -18.7), (15.5, -18.7))
            ThreePointArc((15.5, -18.7), (17.7627417, -17.7627417), (18.7, -15.5))
            Line((18.7, -15.5), (18.7, -12.55))
            ThreePointArc((18.7, -12.55), (18.407106781, -11.842893219), (17.7, -11.55))
            Line((17.7, -11.55), (12.55, -11.55))
            ThreePointArc((12.55, -11.55), (11.842893219, -11.842893219), (11.55, -12.55))
            Line((11.55, -12.55), (11.55, -17.7))
            ThreePointArc((11.55, -17.7), (11.842893219, -18.407106781), (12.55, -18.7))
        make_face(mode=Mode.SUBTRACT)
    extrude(amount=BOSS_EXTRUDE1_DEPTH)


solid = part.part
